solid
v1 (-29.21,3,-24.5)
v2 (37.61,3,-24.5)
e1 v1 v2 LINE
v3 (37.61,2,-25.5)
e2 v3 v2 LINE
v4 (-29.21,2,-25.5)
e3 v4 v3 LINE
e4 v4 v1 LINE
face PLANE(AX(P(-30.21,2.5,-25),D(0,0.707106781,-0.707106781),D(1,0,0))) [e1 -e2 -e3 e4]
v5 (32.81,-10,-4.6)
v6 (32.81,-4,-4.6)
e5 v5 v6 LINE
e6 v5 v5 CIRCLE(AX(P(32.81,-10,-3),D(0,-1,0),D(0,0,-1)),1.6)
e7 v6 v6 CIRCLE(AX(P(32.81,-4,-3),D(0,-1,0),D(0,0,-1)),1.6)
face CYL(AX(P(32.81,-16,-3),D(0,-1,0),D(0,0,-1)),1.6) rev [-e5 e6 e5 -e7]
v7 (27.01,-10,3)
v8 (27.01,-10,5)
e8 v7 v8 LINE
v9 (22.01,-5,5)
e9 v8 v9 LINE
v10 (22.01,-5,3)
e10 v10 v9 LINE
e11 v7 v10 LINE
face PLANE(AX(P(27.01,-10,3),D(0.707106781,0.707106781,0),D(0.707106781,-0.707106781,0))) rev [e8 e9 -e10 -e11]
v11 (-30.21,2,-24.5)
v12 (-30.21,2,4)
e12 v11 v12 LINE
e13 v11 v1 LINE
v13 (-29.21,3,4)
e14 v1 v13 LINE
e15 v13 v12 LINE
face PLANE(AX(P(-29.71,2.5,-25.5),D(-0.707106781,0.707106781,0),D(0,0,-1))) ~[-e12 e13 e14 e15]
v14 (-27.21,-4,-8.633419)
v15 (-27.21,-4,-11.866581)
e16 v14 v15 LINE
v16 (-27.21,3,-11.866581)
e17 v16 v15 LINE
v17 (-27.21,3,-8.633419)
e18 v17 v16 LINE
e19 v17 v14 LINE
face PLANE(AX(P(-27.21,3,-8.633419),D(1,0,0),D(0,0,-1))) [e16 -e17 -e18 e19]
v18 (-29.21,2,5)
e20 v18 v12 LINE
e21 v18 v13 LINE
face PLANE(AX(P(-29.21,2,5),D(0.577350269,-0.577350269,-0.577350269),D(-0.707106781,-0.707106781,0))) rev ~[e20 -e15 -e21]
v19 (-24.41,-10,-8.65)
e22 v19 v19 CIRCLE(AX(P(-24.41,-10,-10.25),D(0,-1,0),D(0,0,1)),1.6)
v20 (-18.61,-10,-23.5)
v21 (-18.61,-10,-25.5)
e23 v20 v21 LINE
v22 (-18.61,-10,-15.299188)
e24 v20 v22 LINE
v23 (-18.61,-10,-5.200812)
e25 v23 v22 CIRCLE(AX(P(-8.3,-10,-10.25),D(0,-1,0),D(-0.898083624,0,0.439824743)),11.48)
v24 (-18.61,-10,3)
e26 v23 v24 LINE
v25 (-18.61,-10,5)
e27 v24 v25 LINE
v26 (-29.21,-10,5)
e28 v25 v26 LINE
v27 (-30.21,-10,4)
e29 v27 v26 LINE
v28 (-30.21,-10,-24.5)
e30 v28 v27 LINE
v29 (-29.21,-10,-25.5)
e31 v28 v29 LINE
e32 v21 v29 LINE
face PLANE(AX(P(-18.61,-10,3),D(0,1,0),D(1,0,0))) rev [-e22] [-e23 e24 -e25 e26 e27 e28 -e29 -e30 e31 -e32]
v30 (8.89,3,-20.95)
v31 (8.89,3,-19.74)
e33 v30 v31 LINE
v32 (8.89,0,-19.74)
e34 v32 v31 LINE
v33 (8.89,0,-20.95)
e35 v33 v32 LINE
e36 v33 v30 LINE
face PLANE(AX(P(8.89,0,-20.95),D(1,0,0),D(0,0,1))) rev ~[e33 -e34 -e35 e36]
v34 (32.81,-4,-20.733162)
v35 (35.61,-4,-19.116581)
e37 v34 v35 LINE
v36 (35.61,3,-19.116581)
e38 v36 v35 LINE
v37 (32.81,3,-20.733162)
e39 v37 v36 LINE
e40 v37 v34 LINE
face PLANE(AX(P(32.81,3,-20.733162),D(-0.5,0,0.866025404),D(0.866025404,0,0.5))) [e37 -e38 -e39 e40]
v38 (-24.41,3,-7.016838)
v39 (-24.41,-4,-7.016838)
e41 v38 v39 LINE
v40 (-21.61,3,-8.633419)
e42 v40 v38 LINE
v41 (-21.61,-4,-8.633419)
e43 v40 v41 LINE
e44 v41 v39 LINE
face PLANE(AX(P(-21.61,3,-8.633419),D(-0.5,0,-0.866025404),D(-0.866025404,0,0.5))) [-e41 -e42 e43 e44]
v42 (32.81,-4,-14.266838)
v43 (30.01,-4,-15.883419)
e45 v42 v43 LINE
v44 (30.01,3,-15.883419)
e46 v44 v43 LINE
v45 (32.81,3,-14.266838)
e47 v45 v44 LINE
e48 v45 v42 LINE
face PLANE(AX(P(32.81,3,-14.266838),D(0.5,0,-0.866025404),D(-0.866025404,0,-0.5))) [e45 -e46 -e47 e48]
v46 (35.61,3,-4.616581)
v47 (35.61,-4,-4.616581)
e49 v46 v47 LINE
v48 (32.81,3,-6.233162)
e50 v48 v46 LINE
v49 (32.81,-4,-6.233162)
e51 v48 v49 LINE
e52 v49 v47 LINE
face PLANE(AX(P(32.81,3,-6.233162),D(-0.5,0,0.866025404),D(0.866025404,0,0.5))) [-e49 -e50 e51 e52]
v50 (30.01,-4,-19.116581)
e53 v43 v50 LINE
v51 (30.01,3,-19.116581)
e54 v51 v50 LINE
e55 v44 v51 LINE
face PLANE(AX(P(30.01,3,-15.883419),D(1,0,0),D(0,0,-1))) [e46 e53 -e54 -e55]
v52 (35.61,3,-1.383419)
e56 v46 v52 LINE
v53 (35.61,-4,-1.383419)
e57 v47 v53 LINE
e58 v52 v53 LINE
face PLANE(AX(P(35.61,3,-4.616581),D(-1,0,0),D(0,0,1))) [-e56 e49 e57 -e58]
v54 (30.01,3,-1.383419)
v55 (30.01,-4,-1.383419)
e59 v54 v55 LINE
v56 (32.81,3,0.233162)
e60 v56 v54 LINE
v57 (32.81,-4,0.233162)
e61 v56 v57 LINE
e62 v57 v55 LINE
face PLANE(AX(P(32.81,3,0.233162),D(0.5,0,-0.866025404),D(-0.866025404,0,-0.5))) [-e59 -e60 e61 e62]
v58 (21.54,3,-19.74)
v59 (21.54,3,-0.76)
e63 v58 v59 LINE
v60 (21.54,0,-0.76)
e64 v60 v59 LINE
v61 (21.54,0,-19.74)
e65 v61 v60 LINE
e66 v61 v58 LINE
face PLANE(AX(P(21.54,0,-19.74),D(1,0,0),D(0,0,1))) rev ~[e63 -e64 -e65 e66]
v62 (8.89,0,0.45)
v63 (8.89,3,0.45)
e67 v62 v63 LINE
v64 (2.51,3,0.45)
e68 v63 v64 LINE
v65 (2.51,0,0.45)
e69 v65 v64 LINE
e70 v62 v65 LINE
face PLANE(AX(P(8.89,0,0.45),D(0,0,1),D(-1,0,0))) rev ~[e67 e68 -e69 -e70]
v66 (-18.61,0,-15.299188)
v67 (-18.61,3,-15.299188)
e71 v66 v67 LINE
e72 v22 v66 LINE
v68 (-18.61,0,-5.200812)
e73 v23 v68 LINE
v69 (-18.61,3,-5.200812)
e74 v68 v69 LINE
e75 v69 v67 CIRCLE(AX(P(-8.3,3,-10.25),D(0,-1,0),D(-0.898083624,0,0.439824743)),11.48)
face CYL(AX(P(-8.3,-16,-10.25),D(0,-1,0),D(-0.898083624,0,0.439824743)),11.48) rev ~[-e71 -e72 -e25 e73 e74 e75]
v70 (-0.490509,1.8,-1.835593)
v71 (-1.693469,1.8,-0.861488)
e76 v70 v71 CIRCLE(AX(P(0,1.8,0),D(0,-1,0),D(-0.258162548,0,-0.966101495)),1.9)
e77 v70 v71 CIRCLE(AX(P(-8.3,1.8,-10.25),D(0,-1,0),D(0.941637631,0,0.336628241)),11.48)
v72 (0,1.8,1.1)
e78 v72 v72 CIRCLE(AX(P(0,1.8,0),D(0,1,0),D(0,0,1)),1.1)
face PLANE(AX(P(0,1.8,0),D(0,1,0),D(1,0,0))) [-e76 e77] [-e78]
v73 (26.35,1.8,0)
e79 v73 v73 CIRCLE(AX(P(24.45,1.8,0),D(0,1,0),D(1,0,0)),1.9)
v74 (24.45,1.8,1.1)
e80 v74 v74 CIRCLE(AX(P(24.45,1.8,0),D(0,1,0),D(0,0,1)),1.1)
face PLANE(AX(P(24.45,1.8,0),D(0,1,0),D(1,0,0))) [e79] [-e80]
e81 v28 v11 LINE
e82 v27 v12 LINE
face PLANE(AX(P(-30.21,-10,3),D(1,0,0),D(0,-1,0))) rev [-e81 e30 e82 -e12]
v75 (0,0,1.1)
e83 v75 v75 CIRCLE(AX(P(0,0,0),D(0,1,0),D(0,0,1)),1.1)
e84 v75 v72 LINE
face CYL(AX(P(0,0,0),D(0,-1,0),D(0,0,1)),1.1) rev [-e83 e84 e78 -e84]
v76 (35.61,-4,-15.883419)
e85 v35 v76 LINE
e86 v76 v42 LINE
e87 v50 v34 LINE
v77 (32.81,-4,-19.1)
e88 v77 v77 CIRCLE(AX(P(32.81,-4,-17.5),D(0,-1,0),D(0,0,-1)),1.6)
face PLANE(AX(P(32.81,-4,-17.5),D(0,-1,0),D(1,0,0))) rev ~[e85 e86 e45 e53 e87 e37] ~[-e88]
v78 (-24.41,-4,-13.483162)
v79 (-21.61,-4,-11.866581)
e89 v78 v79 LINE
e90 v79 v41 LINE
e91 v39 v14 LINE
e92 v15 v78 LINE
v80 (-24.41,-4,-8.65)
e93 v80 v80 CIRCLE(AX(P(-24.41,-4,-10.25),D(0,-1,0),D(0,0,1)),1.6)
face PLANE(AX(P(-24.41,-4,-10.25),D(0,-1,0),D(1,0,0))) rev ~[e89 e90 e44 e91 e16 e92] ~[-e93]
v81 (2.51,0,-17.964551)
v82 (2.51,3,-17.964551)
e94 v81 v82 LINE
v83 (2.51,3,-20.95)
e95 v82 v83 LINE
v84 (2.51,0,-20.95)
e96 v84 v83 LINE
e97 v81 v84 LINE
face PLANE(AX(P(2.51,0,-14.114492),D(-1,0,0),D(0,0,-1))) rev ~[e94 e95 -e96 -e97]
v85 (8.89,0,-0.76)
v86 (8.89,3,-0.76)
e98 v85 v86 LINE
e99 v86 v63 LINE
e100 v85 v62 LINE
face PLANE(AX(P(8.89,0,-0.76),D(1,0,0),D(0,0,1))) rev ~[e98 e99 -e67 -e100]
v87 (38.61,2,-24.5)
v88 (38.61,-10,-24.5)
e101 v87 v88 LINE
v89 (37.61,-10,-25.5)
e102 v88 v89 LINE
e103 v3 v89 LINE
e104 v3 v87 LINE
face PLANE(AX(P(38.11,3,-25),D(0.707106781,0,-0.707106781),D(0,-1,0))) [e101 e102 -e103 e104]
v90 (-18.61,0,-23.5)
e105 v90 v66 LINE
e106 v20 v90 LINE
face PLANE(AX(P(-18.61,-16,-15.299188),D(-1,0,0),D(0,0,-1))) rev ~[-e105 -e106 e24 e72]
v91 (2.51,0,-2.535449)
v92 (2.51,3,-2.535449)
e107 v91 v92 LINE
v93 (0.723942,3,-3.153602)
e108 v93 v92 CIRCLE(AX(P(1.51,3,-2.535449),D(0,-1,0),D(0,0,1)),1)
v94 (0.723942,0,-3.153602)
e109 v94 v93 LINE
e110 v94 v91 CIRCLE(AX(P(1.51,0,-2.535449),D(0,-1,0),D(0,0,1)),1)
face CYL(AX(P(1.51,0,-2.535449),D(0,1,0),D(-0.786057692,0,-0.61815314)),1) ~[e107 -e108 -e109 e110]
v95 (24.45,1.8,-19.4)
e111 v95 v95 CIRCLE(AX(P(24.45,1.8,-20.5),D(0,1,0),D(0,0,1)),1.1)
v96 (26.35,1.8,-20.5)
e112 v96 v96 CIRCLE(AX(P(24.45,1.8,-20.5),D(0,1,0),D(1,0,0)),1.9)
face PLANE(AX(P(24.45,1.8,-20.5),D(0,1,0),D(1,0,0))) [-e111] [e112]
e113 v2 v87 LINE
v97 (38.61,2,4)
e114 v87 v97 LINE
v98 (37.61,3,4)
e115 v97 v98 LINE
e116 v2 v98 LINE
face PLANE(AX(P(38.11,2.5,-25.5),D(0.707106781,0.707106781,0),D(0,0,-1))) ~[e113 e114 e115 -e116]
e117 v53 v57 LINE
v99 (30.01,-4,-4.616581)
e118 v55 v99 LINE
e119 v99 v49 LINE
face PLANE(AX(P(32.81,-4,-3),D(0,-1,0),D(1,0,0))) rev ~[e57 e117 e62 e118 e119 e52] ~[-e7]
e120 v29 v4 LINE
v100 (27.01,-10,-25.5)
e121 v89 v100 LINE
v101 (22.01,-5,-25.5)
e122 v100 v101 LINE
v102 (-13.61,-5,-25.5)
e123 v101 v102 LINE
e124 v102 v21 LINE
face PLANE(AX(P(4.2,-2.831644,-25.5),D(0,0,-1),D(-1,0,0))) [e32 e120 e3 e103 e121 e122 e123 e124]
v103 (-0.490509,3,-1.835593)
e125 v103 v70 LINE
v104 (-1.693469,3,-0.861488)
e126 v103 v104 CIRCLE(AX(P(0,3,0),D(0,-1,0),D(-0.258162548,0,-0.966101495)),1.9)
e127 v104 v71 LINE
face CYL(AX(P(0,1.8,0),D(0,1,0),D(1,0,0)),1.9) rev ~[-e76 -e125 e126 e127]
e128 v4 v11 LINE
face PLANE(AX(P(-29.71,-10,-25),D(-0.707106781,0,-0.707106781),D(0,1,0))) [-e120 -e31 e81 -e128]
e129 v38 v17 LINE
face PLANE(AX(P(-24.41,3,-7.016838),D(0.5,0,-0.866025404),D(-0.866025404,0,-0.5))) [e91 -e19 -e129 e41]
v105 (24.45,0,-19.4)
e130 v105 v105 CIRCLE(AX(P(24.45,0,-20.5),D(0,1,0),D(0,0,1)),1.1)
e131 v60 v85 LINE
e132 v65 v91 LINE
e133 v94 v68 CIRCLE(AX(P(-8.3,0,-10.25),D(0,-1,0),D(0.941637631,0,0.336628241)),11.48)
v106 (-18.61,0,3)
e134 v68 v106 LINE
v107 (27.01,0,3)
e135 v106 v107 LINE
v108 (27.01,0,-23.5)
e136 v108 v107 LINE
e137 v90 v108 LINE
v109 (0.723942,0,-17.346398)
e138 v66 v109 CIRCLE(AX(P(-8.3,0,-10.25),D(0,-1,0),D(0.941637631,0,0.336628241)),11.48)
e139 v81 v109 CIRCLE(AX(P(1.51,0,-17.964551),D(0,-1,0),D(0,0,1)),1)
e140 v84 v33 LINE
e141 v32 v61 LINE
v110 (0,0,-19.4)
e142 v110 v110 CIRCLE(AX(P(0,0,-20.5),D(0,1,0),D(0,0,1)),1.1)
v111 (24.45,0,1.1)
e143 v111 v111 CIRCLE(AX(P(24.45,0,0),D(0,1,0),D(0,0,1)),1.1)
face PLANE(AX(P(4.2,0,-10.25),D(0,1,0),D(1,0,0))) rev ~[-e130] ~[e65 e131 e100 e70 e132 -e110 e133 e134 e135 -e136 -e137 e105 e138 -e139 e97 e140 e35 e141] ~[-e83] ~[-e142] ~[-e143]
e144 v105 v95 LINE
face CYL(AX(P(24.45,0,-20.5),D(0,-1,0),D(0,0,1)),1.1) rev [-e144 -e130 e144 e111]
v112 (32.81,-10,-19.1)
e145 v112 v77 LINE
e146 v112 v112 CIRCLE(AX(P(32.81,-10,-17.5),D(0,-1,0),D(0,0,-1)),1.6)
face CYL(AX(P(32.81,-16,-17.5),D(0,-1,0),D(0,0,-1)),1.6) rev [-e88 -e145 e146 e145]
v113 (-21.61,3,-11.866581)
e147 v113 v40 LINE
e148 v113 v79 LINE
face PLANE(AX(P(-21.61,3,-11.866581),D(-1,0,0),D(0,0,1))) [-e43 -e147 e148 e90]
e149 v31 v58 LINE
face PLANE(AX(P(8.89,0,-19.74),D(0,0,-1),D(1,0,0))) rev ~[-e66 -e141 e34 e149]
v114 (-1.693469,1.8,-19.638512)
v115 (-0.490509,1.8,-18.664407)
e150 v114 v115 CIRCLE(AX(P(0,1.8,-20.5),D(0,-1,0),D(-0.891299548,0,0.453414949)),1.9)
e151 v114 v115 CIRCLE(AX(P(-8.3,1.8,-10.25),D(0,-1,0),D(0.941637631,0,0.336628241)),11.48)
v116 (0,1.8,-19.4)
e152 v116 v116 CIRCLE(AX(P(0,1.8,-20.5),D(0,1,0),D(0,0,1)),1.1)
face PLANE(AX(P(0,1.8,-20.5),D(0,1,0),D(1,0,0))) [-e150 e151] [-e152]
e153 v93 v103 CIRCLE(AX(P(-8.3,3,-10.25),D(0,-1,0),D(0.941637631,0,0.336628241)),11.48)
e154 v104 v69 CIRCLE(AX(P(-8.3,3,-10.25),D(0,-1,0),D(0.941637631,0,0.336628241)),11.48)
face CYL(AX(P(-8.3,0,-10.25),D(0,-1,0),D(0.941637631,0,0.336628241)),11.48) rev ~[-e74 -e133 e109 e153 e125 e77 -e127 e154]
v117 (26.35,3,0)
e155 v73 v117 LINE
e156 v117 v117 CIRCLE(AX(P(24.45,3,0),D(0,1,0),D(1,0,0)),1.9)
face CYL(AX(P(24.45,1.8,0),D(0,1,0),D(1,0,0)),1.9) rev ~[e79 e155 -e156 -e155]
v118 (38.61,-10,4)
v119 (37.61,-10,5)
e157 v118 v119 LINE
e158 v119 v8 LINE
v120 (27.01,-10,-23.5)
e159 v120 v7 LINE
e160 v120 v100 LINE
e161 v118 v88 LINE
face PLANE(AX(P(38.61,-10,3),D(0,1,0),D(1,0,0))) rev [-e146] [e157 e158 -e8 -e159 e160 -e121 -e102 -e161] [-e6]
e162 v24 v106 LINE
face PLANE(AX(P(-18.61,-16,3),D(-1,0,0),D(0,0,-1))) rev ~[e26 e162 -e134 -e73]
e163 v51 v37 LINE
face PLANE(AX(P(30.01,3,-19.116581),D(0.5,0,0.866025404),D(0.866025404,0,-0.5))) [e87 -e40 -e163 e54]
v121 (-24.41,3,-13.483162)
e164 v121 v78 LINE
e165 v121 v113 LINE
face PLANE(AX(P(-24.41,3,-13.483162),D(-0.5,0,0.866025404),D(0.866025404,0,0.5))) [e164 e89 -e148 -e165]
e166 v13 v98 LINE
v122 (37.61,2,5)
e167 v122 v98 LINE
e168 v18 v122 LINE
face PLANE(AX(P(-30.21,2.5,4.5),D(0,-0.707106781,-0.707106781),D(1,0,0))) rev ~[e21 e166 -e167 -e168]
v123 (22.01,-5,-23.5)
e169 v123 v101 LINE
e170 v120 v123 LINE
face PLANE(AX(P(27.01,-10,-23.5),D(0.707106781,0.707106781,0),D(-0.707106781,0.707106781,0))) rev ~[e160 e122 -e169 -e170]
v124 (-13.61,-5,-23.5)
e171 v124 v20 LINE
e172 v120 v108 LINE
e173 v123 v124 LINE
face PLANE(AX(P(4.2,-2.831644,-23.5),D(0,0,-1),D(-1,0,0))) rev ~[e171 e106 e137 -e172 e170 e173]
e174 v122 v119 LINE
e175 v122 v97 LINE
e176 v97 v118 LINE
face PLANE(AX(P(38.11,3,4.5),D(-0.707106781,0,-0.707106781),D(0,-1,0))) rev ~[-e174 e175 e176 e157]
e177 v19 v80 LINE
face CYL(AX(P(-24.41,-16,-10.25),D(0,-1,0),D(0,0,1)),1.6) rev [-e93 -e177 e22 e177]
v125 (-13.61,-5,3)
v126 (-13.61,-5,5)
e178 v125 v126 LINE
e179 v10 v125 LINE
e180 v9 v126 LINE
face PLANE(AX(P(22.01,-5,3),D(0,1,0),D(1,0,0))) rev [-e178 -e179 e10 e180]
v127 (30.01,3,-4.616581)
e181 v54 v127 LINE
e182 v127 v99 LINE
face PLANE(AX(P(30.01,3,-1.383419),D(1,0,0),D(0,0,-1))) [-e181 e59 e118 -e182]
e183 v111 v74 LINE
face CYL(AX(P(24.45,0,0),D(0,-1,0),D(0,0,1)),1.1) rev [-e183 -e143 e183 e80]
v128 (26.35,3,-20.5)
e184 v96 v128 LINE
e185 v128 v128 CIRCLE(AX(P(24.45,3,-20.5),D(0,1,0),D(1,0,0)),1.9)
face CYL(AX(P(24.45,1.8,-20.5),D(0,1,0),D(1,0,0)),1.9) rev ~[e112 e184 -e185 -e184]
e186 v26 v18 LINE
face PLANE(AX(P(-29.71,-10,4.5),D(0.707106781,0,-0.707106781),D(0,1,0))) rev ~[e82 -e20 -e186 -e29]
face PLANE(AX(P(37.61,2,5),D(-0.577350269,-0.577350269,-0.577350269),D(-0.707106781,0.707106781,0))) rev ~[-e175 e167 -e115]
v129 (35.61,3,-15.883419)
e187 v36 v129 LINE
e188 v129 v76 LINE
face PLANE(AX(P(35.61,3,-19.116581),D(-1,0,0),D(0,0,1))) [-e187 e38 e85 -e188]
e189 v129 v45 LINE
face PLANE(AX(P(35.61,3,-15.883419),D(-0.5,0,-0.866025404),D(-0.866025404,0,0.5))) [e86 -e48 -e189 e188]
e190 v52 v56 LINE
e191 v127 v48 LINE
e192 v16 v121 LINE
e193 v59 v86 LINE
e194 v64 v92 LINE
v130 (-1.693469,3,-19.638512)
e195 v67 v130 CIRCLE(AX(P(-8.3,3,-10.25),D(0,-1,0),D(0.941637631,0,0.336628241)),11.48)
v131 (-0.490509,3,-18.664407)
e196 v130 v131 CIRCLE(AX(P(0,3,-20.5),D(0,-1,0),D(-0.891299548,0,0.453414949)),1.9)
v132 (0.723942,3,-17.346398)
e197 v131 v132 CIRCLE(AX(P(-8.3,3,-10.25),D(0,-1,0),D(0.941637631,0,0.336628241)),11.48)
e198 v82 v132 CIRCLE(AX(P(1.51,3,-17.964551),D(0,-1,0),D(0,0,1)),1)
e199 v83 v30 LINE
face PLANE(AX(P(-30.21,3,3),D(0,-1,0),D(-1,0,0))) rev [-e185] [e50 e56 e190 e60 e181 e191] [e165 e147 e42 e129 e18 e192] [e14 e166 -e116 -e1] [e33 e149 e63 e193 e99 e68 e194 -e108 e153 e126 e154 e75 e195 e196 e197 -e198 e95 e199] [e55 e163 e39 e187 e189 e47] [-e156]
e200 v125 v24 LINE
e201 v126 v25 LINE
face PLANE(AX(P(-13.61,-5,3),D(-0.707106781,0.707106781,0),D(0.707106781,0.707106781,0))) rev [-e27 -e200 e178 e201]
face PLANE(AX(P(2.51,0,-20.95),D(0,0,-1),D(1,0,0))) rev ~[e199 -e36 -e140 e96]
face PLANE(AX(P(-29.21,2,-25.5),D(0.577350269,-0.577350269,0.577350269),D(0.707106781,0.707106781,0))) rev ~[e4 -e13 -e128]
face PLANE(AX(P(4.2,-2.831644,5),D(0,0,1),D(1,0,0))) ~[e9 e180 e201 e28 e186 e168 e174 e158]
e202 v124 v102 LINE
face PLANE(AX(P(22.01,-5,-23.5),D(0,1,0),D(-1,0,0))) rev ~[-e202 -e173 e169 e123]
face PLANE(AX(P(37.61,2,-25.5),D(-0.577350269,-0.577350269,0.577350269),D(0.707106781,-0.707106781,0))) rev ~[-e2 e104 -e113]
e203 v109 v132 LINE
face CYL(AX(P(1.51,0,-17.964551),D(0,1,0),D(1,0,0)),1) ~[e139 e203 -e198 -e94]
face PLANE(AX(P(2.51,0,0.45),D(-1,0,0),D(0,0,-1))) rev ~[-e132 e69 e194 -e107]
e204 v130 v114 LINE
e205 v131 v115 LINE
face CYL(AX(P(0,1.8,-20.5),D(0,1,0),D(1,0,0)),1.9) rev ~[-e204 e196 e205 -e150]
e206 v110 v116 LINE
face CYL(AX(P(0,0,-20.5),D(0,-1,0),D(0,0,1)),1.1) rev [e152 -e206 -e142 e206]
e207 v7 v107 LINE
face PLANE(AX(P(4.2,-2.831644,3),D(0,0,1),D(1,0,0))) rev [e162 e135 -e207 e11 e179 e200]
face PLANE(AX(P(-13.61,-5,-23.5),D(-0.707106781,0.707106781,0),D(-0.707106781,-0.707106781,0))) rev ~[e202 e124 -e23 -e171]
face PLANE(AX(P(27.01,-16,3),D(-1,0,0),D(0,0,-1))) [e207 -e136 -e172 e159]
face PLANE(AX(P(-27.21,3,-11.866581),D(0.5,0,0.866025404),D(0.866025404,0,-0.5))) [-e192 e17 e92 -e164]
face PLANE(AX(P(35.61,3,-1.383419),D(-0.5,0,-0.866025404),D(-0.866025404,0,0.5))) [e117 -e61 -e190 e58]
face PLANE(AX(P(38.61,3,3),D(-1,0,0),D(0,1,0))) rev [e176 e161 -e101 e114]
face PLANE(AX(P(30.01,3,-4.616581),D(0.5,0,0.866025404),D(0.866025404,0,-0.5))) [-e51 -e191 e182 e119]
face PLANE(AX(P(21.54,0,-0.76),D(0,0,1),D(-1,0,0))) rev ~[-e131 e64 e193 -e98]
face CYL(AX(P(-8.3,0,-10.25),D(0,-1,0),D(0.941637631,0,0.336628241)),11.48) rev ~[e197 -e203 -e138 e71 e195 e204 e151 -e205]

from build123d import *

# Parameters (mm, degrees)
ESQUISSE1_W                                        = 50.5
ESQUISSE1_H                                        = 26.5
ESQUISSE1_R                                        = 1.1
BOSS_EXTRU_1_DEPTH                                 = 3
CONG_1_R                                           = 1
CHAMBRAGE_POUR_VIS_SIX_PANS_CREUX_M1_6_D           = 2.2
CHAMBRAGE_POUR_VIS_SIX_PANS_CREUX_M1_6_CBORE_D     = 3.8
CHAMBRAGE_POUR_VIS_SIX_PANS_CREUX_M1_6_CBORE_DEPTH = 1.2
BOSS_EXTRU_2_START                                 = -19
ESQUISSE4_R                                        = 1.6
ESQUISSE4_W                                        = 11.6
ESQUISSE4_H                                        = 26.5
BOSS_EXTRU_2_DEPTH                                 = 19
ENL_V_START                                        = -19
ENL_V_MAT_EXTRU_1_DEPTH                            = 7
ESQUISSE6_W                                        = 11.6
ESQUISSE6_H                                        = 6
ENL_V_MAT_EXTRU_2_DEPTH                            = 50.487191272
BOSS_EXTRU_3_DEPTH                                 = 2
CHANFREIN1_SIZE                                    = 1


with BuildPart() as part:
    # Esquisse1 → Boss.-Extru.1 (new body)
    with BuildSketch(Plane(origin=(0, 0, 0), x_dir=(1, 0, 0), z_dir=(0, 1, 0))):
        with Locations((4.2, 10.25)):
            Rectangle(ESQUISSE1_W, ESQUISSE1_H)
        with Locations(Location((0, 0, 0), (0, 0, 270))):
            Circle(ESQUISSE1_R, mode=Mode.SUBTRACT)
        with Locations(Location((24.45, 0, 0), (0, 0, 270))):
            Circle(ESQUISSE1_R, mode=Mode.SUBTRACT)
        with BuildLine():
            Line((8.89, 20.95), (8.89, 19.74))
            Line((8.89, 19.74), (21.54, 19.74))
            Line((21.54, 19.74), (21.54, 0.76))
            Line((21.54, 0.76), (8.89, 0.76))
            Line((8.89, 0.76), (8.89, -0.45))
            Line((8.89, -0.45), (2.51, -0.45))
            Line((2.51, -0.45), (2.51, 6.385507795))
            ThreePointArc((2.51, 6.385507795), (-19.78, 10.25), (2.51, 14.114492205))
            Line((2.51, 14.114492205), (2.51, 20.95))
            Line((2.51, 20.95), (8.89, 20.95))
        make_face(mode=Mode.SUBTRACT)
        with Locations(Location((0, 20.5, 0), (0, 0, 270))):
            Circle(ESQUISSE1_R, mode=Mode.SUBTRACT)
        with Locations(Location((24.45, 20.5, 0), (0, 0, 270))):
            Circle(ESQUISSE1_R, mode=Mode.SUBTRACT)
    extrude(amount=BOSS_EXTRU_1_DEPTH)

    # Congé1
    cong_1_edges = [part.edges().sort_by_distance(p)[0] for p in [
        (2.51, 1.5, -6.385507795),
        (2.51, 1.5, -14.114492205),
    ]]
    fillet(cong_1_edges, radius=CONG_1_R)

    # Chambrage pour vis à six pans creux M1.61 (through all)
    with Locations(Plane(origin=(0, 3, 0), x_dir=(1, 0, 0), z_dir=(0, 1, 0))):
        with Locations((0, 0), (0, 20.5), (24.45, 20.5), (24.45, 0)):
            CounterBoreHole(CHAMBRAGE_POUR_VIS_SIX_PANS_CREUX_M1_6_D / 2, CHAMBRAGE_POUR_VIS_SIX_PANS_CREUX_M1_6_CBORE_D / 2, CHAMBRAGE_POUR_VIS_SIX_PANS_CREUX_M1_6_CBORE_DEPTH)

    # Esquisse4 → Boss.-Extru.2 (add)
    # profile 1 of 2: a face of its own
    with BuildSketch(Plane(origin=(0, 3, 0), x_dir=(1, 0, 0), z_dir=(0, 1, 0)).offset(BOSS_EXTRU_2_START)):
        with BuildLine():
            Line((-18.61, 23.5), (-30.21, 23.5))
            Line((-30.21, 23.5), (-30.21, -3))
            Line((-30.21, -3), (-18.61, -3))
            Line((-18.61, -3), (-18.61, 5.200811946))
            ThreePointArc((-18.61, 5.200811946), (-19.78, 10.25), (-18.61, 15.299188054))
            Line((-18.61, 15.299188054), (-18.61, 23.5))
        make_face()
        with Locations(Location((-24.41, 10.25, 0), (0, 0, 270))):
            Circle(ESQUISSE4_R, mode=Mode.SUBTRACT)
    # profile 2 of 2: a face of its own
    with BuildSketch(Plane(origin=(0, 3, 0), x_dir=(1, 0, 0), z_dir=(0, 1, 0)).offset(BOSS_EXTRU_2_START)):
        with Locations((32.81, 10.25)):
            Rectangle(ESQUISSE4_W, ESQUISSE4_H)
        with Locations(Location((32.81, 3, 0), (0, 0, 90))):
            Circle(ESQUISSE4_R, mode=Mode.SUBTRACT)
        with Locations(Location((32.81, 17.5, 0), (0, 0, 90))):
            Circle(ESQUISSE4_R, mode=Mode.SUBTRACT)
    extrude(amount=BOSS_EXTRU_2_DEPTH)

    # Esquisse5 → Enlèv. mat.-Extru.1 (cut)
    with BuildSketch(Plane.XZ.offset(16).offset(ENL_V_START)):
        Polygon((-24.41, -7.016838493), (-27.21, -8.633419246), (-27.21, -11.866580754), (-24.41, -13.483161507), (-21.61, -11.866580754), (-21.61, -8.633419246), align=None)
        Polygon((32.81, -14.266838493), (30.01, -15.883419246), (30.01, -19.116580754), (32.81, -20.733161507), (35.61, -19.116580754), (35.61, -15.883419246), align=None)
        Polygon((32.81, 0.233161507), (30.01, -1.383419246), (30.01, -4.616580754), (32.81, -6.233161507), (35.61, -4.616580754), (35.61, -1.383419246), align=None)
    extrude(amount=ENL_V_MAT_EXTRU_1_DEPTH, mode=Mode.SUBTRACT)

    # Esquisse6 → Enlèv. mat.-Extru.2 (cut, through all)
    with BuildSketch(Plane(origin=(0, 0, -23.5), x_dir=(-1, 0, 0), z_dir=(0, 0, -1))):
        with Locations((-32.81, -13)):
            Rectangle(ESQUISSE6_W, ESQUISSE6_H)
        with Locations((24.41, -13)):
            Rectangle(ESQUISSE6_W, ESQUISSE6_H)
    extrude(amount=-ENL_V_MAT_EXTRU_2_DEPTH, mode=Mode.SUBTRACT)

    # Esquisse7 → Boss.-Extru.3 (add)
    with BuildSketch(Plane(origin=(0, 0, -23.5), x_dir=(-1, 0, 0), z_dir=(0, 0, -1))):
        Polygon((8.61, 0), (-4.2, 0), (-17.01, 0), (-22.01, -5), (13.61, -5), align=None)
        Polygon((-22.01, -5), (-17.01, 0), (-27.01, 0), (-27.01, -10), align=None)
        Polygon((-17.01, 0), (-4.2, 0), (-4.2, 3), (-38.61, 3), (-38.61, -10), (-27.01, -10), (-27.01, 0), align=None)
        Polygon((18.61, 0), (8.61, 0), (13.61, -5), (18.61, -10), align=None)
        Polygon((-4.2, 3), (-4.2, 0), (8.61, 0), (18.61, 0), (18.61, -10), (30.21, -10), (30.21, 3), align=None)
    boss_extru_3 = extrude(amount=BOSS_EXTRU_3_DEPTH)

    # Symétrie1: Boss.-Extru.3 across plane
    add(boss_extru_3.mirror(Plane(origin=(0, 0, -10.25), x_dir=(1, 0, 0), z_dir=(0, 0, -1))))

    # Chanfrein1
    chanfrein1_edges = [part.edges().sort_by_distance(p)[0] for p in [
        (-30.21, 3, -10.25),
        (38.61, 3, -10.25),
        (-30.21, -3.5, -25.5),
        (4.2, 3, -25.5),
        (38.61, -3.5, -25.5),
        (38.61, -3.5, 5),
        (4.2, 3, 5),
        (-30.21, -3.5, 5),
    ]]
    chamfer(chanfrein1_edges, length=CHANFREIN1_SIZE)


solid = part.part
